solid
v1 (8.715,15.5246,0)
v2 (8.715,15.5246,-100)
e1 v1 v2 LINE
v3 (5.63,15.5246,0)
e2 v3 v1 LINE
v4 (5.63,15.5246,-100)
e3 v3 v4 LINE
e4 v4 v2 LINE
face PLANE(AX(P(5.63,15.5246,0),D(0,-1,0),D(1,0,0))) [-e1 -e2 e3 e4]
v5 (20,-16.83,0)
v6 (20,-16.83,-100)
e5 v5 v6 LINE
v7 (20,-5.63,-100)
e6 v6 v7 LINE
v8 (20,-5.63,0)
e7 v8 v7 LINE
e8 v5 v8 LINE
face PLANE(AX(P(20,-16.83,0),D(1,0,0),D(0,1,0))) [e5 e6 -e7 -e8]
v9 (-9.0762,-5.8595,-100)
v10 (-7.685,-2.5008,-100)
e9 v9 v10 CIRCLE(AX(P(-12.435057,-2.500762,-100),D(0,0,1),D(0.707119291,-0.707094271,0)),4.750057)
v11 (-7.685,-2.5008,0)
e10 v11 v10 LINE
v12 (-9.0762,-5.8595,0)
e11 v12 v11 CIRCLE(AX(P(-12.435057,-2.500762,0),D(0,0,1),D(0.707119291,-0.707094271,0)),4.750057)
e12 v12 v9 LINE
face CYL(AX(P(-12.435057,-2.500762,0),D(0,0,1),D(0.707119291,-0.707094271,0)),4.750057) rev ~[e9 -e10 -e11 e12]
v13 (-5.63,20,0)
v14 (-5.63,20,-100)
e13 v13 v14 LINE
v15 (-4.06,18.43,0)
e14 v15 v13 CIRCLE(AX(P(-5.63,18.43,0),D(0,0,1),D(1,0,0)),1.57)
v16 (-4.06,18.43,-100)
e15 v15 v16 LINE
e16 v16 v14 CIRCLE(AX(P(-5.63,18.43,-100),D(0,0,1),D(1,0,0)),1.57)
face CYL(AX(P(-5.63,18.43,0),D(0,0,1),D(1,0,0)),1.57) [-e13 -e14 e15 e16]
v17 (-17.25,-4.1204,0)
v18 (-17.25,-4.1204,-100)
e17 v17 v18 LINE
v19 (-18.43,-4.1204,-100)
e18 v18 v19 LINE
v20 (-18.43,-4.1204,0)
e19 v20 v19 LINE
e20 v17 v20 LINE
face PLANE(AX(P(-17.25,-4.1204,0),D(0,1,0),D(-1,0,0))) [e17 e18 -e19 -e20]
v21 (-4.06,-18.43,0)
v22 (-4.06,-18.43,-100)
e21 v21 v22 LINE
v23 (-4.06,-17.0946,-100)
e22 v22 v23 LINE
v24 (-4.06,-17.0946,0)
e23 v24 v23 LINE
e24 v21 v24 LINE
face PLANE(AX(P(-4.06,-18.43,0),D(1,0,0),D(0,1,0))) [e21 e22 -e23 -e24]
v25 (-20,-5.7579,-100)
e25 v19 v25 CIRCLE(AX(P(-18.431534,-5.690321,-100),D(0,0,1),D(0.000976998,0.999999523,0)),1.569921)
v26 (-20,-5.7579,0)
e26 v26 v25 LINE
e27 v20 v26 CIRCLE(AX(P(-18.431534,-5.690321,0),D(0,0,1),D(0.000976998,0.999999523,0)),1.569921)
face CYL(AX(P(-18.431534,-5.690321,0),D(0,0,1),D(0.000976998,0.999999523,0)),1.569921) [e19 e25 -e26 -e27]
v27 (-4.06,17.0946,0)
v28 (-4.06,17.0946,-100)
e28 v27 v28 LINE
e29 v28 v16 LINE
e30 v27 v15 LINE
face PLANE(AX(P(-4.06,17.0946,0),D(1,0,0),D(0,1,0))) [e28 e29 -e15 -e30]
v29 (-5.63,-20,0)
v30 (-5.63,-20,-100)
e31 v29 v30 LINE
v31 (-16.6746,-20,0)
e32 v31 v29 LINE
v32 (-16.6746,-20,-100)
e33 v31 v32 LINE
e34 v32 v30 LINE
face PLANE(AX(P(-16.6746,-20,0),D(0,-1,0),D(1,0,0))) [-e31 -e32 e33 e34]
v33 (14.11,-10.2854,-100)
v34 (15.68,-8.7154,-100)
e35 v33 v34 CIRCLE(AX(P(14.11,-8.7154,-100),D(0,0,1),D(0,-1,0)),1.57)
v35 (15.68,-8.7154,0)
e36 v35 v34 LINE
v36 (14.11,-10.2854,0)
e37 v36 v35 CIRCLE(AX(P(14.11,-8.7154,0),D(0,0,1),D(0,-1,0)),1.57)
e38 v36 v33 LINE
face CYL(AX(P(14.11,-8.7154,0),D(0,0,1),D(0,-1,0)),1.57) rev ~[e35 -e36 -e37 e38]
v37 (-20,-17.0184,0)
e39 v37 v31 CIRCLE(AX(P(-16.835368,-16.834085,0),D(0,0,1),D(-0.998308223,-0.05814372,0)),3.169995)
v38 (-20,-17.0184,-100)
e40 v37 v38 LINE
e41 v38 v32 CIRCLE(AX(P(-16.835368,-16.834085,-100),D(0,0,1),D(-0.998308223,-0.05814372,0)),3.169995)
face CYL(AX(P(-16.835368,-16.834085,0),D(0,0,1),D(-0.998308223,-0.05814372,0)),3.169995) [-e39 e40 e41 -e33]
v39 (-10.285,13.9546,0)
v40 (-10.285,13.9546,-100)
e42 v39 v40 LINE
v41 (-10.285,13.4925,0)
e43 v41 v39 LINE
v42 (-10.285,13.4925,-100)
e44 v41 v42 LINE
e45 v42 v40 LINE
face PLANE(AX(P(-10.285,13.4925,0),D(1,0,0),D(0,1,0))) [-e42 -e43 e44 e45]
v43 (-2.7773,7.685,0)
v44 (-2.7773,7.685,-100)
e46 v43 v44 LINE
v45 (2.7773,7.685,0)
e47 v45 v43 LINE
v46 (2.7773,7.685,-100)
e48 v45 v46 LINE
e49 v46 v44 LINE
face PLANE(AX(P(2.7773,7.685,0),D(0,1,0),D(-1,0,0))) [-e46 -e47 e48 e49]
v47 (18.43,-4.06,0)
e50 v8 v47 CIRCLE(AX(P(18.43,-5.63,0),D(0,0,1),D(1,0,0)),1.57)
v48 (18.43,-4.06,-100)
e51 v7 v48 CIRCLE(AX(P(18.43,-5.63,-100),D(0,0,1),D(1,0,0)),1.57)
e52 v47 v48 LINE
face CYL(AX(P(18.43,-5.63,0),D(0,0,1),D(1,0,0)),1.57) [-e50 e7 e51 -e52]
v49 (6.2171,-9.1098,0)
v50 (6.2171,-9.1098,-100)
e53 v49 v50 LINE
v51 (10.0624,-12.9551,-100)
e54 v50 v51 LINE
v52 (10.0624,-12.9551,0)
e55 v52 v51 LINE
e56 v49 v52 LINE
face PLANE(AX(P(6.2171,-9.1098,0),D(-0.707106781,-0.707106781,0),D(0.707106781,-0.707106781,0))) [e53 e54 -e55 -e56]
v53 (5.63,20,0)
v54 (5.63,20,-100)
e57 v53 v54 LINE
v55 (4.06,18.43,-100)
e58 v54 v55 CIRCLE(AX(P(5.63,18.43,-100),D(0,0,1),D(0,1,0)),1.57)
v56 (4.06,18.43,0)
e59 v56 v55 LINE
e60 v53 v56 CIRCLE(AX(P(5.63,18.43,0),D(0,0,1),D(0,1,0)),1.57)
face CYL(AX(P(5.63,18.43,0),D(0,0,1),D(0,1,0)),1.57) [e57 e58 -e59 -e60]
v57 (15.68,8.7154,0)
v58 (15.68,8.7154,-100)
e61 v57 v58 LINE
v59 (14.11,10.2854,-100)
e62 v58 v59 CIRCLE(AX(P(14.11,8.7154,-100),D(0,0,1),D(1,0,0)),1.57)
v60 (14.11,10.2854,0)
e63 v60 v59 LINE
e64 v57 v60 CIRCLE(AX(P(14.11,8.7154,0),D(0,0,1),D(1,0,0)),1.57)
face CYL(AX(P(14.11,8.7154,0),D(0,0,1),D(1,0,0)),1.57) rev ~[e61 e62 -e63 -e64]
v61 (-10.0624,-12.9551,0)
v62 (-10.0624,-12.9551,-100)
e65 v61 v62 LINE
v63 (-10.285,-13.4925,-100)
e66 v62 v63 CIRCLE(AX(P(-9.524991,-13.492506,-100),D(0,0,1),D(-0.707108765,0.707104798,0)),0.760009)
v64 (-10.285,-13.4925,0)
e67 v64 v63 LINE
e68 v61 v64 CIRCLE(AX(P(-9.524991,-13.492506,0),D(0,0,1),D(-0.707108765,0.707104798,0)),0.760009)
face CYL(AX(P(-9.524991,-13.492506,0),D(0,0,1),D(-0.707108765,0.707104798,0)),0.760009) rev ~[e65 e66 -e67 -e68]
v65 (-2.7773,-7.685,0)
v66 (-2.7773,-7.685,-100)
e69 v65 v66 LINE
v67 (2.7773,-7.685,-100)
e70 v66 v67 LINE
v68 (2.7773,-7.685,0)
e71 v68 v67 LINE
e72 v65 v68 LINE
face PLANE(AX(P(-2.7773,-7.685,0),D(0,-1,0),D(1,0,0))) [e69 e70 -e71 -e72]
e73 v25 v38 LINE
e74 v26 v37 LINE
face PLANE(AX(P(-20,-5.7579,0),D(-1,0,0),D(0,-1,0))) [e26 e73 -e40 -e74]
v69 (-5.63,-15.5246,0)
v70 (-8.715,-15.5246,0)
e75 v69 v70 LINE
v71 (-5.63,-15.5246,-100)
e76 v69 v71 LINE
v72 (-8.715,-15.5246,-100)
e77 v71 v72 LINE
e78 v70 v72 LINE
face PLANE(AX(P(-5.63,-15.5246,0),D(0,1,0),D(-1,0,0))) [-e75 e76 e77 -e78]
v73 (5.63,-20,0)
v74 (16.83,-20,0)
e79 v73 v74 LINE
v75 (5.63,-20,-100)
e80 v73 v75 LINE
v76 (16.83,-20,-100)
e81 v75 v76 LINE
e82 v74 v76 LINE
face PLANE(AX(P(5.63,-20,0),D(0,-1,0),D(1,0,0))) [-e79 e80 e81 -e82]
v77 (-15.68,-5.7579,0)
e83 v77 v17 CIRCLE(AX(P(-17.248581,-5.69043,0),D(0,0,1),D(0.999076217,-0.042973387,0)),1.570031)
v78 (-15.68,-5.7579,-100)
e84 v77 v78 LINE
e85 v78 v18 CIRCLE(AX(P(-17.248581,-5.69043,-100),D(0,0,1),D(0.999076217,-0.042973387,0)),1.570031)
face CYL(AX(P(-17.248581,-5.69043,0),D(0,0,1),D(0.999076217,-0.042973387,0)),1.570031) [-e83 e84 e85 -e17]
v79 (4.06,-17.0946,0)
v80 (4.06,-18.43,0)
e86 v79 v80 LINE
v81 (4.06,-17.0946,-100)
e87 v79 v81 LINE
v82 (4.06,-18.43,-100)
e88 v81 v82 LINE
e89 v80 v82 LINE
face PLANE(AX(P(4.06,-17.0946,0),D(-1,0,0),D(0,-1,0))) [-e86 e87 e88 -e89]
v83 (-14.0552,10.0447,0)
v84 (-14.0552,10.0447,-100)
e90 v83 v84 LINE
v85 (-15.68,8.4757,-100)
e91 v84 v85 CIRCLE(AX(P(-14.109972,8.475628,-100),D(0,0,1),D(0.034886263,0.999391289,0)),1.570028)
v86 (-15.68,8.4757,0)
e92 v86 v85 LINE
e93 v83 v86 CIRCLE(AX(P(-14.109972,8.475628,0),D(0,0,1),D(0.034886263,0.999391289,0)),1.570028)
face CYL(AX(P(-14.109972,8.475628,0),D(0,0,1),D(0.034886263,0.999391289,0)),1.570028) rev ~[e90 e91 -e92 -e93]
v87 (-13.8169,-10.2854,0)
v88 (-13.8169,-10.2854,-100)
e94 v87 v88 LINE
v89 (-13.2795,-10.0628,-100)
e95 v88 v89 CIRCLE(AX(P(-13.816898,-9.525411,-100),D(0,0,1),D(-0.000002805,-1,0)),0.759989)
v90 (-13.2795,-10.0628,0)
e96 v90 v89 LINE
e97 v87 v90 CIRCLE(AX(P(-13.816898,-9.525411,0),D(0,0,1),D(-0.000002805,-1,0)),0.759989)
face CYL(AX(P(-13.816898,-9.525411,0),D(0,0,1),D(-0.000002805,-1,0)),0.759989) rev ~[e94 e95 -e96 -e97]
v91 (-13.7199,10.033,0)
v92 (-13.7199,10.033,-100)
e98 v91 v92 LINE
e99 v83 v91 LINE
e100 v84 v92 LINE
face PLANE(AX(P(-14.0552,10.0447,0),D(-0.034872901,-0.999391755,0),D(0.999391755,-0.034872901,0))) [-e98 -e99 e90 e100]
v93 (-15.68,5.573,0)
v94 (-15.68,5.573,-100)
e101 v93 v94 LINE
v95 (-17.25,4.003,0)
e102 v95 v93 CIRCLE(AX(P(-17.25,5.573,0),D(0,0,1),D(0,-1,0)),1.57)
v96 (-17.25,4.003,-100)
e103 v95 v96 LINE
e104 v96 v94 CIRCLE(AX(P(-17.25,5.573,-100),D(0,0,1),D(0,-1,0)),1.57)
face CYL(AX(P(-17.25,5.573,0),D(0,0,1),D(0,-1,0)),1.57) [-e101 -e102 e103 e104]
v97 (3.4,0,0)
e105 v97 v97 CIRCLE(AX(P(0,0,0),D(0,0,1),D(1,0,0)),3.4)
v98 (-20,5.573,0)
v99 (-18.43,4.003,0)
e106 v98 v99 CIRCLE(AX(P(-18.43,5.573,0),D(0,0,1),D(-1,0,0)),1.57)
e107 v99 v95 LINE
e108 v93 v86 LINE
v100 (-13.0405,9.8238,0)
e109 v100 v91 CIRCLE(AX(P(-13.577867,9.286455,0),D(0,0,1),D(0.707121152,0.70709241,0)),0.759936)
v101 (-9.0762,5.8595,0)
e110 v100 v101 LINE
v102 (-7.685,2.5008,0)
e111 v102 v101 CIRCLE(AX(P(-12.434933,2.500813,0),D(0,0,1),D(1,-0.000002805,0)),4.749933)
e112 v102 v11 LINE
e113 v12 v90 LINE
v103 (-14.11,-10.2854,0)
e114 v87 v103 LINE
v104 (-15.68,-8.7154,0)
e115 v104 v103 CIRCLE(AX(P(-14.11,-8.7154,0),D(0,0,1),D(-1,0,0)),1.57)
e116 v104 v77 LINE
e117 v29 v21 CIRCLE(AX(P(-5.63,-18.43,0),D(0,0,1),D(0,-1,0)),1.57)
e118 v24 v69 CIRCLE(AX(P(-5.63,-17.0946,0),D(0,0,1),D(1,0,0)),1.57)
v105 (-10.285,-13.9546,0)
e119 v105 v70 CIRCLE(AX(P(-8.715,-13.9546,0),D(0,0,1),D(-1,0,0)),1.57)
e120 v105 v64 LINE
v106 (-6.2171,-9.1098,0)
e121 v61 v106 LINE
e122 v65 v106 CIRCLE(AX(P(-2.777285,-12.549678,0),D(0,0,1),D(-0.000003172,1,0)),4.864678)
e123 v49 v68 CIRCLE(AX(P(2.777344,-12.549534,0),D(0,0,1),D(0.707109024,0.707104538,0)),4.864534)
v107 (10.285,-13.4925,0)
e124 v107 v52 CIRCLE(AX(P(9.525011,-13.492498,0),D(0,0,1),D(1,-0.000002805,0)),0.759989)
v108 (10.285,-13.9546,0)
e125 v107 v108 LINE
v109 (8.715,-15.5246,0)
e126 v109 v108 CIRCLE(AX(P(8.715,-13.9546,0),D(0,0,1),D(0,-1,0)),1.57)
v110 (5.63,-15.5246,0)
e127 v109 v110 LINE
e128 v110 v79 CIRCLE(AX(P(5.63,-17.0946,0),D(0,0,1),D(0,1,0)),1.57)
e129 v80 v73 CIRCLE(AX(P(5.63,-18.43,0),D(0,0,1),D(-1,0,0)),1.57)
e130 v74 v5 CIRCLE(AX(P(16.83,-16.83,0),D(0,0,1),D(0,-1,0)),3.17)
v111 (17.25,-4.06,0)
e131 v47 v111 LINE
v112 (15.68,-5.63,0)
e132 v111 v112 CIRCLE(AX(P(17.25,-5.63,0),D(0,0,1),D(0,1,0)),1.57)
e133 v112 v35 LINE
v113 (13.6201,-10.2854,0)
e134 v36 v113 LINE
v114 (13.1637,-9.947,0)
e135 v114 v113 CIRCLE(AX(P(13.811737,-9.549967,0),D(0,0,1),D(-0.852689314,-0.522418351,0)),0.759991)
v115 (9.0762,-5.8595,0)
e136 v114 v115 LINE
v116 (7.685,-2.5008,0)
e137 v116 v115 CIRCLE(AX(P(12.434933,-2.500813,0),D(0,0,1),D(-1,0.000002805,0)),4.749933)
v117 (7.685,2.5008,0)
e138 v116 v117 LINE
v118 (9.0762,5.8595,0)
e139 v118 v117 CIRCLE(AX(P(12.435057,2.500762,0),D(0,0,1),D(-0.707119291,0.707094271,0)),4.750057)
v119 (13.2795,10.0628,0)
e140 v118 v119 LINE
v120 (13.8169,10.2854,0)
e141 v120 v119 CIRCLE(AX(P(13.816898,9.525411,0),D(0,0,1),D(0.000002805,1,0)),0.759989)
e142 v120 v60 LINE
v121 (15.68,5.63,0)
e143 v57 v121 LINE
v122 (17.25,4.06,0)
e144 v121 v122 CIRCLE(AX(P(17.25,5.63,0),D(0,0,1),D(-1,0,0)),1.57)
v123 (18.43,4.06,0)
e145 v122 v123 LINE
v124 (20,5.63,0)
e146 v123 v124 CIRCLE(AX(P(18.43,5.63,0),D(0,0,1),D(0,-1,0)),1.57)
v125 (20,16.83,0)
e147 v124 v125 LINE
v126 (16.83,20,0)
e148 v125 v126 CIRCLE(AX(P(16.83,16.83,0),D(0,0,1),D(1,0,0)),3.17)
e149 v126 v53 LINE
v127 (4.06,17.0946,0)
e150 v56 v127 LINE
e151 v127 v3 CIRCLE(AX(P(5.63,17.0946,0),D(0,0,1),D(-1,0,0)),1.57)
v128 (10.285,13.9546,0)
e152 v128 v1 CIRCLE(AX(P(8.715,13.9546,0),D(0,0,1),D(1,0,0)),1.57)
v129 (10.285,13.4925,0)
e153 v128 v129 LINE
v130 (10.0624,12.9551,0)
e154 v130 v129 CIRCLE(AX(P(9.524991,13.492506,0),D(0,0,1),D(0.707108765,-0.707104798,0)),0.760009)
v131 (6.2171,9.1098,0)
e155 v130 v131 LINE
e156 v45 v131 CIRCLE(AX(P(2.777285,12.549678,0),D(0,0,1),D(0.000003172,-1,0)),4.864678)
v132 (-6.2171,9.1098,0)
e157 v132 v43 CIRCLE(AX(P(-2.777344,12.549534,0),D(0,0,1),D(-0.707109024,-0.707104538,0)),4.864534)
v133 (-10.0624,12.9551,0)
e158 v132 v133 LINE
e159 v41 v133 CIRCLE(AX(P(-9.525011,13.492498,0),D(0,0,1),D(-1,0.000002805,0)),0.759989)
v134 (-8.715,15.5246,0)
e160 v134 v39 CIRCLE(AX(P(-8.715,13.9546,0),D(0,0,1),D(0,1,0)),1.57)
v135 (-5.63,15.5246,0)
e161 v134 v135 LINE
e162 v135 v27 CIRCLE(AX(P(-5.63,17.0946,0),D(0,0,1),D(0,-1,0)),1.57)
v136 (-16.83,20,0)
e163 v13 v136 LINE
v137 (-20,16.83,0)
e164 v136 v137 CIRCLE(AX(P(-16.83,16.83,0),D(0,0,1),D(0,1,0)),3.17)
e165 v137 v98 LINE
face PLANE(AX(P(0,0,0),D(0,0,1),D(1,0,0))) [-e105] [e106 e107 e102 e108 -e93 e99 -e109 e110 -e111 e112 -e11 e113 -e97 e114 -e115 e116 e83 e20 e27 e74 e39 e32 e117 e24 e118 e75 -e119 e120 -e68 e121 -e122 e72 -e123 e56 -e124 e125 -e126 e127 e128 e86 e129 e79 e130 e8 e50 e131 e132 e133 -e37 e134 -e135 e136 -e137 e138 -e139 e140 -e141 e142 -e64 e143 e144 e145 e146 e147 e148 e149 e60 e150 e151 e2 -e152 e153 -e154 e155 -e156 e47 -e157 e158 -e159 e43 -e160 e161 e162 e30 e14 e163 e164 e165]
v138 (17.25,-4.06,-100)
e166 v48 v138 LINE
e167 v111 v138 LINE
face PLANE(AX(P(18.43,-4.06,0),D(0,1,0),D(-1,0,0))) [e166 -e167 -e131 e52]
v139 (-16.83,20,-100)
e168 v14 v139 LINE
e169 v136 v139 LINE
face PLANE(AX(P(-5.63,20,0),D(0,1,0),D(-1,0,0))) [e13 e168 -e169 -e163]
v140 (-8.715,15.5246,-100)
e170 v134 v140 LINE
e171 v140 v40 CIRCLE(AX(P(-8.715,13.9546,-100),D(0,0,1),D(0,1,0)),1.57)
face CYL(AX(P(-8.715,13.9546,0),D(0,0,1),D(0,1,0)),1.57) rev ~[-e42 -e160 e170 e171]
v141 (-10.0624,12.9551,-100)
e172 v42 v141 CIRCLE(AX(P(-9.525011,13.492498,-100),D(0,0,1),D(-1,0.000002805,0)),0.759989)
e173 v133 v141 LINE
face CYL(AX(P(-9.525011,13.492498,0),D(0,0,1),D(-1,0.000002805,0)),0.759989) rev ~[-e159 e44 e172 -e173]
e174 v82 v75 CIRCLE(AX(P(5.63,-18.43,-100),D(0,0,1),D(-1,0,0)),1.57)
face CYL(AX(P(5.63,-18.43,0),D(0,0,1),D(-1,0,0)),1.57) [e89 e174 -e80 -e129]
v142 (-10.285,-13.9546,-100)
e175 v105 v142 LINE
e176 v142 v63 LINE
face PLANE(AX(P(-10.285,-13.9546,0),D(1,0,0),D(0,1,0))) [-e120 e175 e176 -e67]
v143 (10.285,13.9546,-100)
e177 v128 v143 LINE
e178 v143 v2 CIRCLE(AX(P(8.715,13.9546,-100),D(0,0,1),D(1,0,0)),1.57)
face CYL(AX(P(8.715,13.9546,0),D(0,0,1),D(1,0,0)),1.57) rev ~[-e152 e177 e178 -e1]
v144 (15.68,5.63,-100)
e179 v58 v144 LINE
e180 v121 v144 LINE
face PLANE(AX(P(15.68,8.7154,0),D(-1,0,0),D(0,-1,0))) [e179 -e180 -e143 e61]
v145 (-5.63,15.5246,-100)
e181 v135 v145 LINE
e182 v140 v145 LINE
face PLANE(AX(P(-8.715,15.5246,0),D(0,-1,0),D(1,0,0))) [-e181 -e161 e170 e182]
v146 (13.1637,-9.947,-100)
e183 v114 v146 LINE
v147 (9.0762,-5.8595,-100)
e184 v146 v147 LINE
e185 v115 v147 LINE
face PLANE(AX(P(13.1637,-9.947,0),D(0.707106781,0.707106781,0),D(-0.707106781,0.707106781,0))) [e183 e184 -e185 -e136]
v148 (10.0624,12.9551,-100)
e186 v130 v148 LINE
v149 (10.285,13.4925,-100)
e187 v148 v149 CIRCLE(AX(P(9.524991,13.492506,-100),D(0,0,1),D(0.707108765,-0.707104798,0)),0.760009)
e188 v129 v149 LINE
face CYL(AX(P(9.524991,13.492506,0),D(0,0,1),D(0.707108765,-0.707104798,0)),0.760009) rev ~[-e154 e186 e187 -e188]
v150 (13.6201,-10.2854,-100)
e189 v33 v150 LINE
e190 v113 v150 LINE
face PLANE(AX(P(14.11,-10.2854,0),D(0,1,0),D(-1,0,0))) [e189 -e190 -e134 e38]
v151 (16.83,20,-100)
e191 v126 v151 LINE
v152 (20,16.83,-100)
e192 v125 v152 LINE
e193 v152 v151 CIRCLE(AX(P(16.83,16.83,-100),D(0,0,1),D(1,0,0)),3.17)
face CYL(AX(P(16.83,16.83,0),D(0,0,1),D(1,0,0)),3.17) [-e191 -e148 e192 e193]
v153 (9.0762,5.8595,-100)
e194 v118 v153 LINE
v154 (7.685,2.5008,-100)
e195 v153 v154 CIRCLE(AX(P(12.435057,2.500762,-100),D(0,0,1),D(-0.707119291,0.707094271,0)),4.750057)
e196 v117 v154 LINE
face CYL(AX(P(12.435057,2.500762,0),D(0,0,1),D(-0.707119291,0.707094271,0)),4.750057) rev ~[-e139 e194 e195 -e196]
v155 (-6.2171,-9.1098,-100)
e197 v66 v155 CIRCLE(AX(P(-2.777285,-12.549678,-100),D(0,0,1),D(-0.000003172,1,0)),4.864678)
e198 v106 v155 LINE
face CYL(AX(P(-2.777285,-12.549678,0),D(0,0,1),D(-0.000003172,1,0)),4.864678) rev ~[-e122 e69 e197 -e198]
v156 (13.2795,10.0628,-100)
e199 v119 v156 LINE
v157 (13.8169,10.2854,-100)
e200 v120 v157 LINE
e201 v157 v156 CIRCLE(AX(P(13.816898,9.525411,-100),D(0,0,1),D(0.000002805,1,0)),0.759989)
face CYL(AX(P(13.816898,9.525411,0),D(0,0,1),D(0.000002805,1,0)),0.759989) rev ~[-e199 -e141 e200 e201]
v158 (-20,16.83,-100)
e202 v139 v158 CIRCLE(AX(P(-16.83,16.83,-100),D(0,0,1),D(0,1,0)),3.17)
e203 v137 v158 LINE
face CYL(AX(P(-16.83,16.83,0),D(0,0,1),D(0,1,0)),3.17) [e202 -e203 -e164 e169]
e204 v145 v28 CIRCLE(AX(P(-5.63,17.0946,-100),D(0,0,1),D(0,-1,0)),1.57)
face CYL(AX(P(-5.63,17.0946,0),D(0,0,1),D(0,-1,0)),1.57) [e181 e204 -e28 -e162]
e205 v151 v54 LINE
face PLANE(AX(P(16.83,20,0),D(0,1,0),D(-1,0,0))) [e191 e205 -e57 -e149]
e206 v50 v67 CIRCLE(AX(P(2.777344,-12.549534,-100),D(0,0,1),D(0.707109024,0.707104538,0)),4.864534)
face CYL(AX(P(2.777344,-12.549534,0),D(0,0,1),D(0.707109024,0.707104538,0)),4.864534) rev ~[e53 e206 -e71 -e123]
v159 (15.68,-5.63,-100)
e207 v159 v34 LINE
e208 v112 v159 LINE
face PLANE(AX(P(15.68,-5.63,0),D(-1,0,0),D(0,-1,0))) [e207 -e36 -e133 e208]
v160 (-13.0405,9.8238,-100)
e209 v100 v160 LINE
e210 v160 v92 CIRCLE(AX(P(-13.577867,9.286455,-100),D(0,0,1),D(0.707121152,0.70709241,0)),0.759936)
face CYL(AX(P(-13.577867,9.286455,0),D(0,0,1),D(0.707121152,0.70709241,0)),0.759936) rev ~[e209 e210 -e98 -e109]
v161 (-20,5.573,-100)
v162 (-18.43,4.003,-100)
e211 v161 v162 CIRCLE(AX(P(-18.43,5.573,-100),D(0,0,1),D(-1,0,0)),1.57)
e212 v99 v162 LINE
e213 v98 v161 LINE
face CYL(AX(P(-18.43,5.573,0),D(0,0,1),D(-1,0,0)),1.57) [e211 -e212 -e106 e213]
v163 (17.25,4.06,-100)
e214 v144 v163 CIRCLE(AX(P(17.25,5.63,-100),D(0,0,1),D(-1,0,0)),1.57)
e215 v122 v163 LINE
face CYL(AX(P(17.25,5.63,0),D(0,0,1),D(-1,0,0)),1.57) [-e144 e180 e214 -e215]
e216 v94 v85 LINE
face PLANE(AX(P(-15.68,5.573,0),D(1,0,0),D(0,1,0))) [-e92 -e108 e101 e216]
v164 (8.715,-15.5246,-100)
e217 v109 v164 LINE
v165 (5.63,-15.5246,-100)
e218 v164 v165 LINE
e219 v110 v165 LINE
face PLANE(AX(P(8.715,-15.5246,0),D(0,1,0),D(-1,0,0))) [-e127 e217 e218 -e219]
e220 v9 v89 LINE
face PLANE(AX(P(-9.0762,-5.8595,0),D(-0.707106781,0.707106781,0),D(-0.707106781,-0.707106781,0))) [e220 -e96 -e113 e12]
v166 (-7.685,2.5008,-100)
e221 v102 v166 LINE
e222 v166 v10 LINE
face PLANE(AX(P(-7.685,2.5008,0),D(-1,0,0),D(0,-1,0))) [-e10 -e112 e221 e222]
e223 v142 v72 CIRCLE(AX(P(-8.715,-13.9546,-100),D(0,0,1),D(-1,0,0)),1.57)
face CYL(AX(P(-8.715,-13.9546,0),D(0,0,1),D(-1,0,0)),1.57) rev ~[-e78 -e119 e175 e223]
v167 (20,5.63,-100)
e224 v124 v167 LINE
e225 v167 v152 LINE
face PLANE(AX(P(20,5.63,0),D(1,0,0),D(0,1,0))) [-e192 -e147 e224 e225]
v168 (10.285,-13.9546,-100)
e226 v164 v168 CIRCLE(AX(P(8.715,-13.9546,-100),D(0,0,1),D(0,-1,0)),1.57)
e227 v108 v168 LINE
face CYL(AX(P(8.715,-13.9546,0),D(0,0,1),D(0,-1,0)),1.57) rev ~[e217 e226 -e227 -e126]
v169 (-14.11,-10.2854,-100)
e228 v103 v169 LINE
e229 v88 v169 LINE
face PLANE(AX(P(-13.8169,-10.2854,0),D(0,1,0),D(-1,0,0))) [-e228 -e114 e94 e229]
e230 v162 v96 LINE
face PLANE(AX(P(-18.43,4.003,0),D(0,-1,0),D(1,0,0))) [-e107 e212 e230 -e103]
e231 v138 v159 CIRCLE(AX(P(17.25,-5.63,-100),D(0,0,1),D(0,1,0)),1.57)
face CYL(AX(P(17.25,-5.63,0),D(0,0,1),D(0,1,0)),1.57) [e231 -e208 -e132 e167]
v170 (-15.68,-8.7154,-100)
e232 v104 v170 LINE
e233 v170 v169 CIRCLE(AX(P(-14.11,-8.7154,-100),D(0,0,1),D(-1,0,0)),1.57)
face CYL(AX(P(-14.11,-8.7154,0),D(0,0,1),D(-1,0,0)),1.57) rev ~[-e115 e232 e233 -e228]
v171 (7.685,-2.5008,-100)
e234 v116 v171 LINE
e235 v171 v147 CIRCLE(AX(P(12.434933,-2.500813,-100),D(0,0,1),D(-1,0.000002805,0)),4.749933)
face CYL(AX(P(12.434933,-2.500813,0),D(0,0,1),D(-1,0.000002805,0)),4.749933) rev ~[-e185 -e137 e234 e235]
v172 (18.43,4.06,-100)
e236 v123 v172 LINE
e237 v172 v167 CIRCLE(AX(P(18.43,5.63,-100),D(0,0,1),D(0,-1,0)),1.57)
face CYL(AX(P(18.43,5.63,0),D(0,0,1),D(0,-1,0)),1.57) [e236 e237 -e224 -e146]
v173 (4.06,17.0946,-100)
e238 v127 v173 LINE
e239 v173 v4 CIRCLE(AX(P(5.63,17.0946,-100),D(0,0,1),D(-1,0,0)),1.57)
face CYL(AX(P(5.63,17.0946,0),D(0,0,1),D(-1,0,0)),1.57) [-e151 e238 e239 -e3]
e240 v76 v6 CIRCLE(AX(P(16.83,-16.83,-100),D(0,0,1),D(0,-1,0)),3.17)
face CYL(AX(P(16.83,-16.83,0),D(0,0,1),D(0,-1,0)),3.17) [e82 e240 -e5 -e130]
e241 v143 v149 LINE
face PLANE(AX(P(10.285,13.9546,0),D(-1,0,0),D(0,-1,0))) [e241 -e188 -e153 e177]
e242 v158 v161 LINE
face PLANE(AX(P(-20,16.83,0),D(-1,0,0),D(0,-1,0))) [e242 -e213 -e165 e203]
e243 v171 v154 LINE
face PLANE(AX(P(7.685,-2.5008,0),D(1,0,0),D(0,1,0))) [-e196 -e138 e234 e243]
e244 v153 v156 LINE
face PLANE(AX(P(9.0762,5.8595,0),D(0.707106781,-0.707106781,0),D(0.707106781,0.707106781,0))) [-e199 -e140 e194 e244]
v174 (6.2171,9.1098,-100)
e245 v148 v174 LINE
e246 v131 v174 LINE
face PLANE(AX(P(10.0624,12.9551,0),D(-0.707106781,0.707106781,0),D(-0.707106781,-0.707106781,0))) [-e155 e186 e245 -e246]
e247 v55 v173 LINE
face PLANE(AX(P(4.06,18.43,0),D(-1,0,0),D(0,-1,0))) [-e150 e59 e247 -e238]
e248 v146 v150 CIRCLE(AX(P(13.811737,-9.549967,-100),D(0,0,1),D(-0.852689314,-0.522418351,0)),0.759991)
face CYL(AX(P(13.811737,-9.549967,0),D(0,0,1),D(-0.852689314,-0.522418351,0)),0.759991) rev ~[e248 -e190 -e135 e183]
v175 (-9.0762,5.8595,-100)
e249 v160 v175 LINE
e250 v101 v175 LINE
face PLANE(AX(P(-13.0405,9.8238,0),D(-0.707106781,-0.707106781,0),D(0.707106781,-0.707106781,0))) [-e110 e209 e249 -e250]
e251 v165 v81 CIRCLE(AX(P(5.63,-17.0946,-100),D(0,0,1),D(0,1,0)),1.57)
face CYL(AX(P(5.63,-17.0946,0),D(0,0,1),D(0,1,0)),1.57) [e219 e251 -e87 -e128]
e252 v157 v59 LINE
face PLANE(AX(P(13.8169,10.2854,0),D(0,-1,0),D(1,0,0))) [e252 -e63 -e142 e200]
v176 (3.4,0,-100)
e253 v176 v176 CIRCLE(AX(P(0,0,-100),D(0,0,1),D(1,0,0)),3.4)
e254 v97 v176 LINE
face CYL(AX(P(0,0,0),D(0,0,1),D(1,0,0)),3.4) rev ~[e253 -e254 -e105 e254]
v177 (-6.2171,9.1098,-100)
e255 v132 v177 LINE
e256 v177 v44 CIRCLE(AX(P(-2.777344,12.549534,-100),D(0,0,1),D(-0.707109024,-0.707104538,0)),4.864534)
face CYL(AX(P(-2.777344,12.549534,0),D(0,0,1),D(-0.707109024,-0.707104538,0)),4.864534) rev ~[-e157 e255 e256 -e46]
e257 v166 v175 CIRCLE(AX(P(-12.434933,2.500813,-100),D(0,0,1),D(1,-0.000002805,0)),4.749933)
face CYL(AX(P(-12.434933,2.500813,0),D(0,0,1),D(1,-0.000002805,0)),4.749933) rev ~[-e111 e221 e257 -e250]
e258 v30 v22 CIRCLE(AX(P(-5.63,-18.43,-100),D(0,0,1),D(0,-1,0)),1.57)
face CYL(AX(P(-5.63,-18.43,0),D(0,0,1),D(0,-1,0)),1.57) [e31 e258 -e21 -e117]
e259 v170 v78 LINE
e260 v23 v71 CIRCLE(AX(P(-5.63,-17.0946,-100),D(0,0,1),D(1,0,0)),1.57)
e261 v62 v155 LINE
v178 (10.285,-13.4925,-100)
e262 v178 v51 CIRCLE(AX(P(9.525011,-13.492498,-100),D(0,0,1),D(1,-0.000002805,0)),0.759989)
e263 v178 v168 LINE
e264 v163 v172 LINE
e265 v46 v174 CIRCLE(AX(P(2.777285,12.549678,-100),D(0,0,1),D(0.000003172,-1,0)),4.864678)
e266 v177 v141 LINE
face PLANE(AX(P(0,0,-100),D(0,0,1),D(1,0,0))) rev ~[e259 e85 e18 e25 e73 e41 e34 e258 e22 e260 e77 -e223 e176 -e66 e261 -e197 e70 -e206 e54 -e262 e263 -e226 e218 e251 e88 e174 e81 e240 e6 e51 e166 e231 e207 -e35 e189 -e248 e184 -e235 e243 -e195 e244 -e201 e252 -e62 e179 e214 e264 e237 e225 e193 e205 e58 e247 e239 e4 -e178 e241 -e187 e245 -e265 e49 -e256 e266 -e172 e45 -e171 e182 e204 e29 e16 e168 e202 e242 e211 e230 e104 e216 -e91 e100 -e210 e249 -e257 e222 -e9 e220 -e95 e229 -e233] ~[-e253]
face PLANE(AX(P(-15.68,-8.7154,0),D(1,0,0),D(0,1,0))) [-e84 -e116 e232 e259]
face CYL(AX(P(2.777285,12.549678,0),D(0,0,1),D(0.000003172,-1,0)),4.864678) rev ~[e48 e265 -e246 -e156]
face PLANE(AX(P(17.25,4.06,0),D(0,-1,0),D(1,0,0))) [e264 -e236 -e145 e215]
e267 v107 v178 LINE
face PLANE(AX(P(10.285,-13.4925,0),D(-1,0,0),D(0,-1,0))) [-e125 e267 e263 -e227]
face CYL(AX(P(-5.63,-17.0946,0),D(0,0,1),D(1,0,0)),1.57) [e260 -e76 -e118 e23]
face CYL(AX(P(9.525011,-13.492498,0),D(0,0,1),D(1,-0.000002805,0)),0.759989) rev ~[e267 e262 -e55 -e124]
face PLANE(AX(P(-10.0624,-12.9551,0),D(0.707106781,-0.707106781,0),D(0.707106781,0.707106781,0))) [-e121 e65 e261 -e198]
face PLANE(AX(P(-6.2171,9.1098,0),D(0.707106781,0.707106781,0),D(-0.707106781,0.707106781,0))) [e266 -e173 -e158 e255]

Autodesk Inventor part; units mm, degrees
ref_plane "YZ Plane" through (0, 0, 0) normal (1, 0, 0) x (0, 1, 0)
ref_plane "XZ Plane" through (0, 0, 0) normal (0, 1, 0) x (-1, 0, 0)
ref_plane "XY Plane" through (0, 0, 0) normal (0, 0, 1) x (1, 0, 0)
sketch "Sketch1" plane through (0, 0, 0) normal (0, 0, 1) x (1, 0, 0)
  circle A0 centre (0, 0) radius 3.4
  arc A1 (-4.06, -17.0946) -> (-5.63, -15.5246) centre (-5.63, -17.0946) ccw
  line L0 (-5.63, -15.5246) -> (-8.715, -15.5246)
  arc A2 (-10.285, -13.9546) -> (-8.715, -15.5246) centre (-8.715, -13.9546) ccw
  line L1 (-10.285, -13.9546) -> (-10.285, -13.4925)
  arc A3 (-10.0624, -12.9551) -> (-10.285, -13.4925) centre (-9.525, -13.4925) ccw
  line L2 (-10.0624, -12.9551) -> (-6.2171, -9.1098)
  arc A4 (-2.7773, -7.685) -> (-6.2171, -9.1098) centre (-2.7773, -12.5496) ccw
  line L3 (-2.7773, -7.685) -> (2.7773, -7.685)
  arc A5 (6.2171, -9.1098) -> (2.7773, -7.685) centre (2.7773, -12.5496) ccw
  line L4 (6.2171, -9.1098) -> (10.0624, -12.9551)
  arc A6 (10.285, -13.4925) -> (10.0624, -12.9551) centre (9.525, -13.4925) ccw
  line L5 (10.285, -13.4925) -> (10.285, -13.9546)
  arc A7 (8.715, -15.5246) -> (10.285, -13.9546) centre (8.715, -13.9546) ccw
  line L6 (8.715, -15.5246) -> (5.63, -15.5246)
  arc A8 (5.63, -15.5246) -> (4.06, -17.0946) centre (5.63, -17.0946) ccw
  line L7 (4.06, -17.0946) -> (4.06, -18.43)
  arc A9 (4.06, -18.43) -> (5.63, -20) centre (5.63, -18.43) ccw
  line L8 (5.63, -20) -> (16.83, -20)
  arc A10 (16.83, -20) -> (20, -16.83) centre (16.83, -16.83) ccw
  line L9 (20, -16.83) -> (20, -5.63)
  arc A11 (20, -5.63) -> (18.43, -4.06) centre (18.43, -5.63) ccw
  line L10 (18.43, -4.06) -> (17.25, -4.06)
  arc A12 (17.25, -4.06) -> (15.68, -5.63) centre (17.25, -5.63) ccw
  line L11 (15.68, -5.63) -> (15.68, -8.7154)
  arc A13 (14.11, -10.2854) -> (15.68, -8.7154) centre (14.11, -8.7154) ccw
  line L12 (14.11, -10.2854) -> (13.6201, -10.2854)
  arc A14 (13.1637, -9.947) -> (13.6201, -10.2854) centre (13.8117, -9.55) ccw
  line L13 (13.1637, -9.947) -> (9.0762, -5.8595)
  arc A15 (7.685, -2.5008) -> (9.0762, -5.8595) centre (12.435, -2.5008) ccw
  line L14 (7.685, -2.5008) -> (7.685, 2.5008)
  arc A16 (9.0762, 5.8595) -> (7.685, 2.5008) centre (12.435, 2.5008) ccw
  line L15 (9.0762, 5.8595) -> (13.2795, 10.0628)
  arc A17 (13.8169, 10.2854) -> (13.2795, 10.0628) centre (13.8169, 9.5254) ccw
  line L16 (13.8169, 10.2854) -> (14.11, 10.2854)
  arc A18 (15.68, 8.7154) -> (14.11, 10.2854) centre (14.11, 8.7154) ccw
  line L17 (15.68, 8.7154) -> (15.68, 5.63)
  arc A19 (15.68, 5.63) -> (17.25, 4.06) centre (17.25, 5.63) ccw
  line L18 (17.25, 4.06) -> (18.43, 4.06)
  arc A20 (18.43, 4.06) -> (20, 5.63) centre (18.43, 5.63) ccw
  line L19 (20, 5.63) -> (20, 16.83)
  arc A21 (20, 16.83) -> (16.83, 20) centre (16.83, 16.83) ccw
  line L20 (16.83, 20) -> (5.63, 20)
  arc A22 (5.63, 20) -> (4.06, 18.43) centre (5.63, 18.43) ccw
  line L21 (4.06, 18.43) -> (4.06, 17.0946)
  arc A23 (4.06, 17.0946) -> (5.63, 15.5246) centre (5.63, 17.0946) ccw
  line L22 (5.63, 15.5246) -> (8.715, 15.5246)
  arc A24 (10.285, 13.9546) -> (8.715, 15.5246) centre (8.715, 13.9546) ccw
  line L23 (10.285, 13.9546) -> (10.285, 13.4925)
  arc A25 (10.0624, 12.9551) -> (10.285, 13.4925) centre (9.525, 13.4925) ccw
  line L24 (10.0624, 12.9551) -> (6.2171, 9.1098)
  arc A26 (2.7773, 7.685) -> (6.2171, 9.1098) centre (2.7773, 12.5496) ccw
  line L25 (2.7773, 7.685) -> (-2.7773, 7.685)
  arc A27 (-6.2171, 9.1098) -> (-2.7773, 7.685) centre (-2.7773, 12.5496) ccw
  line L26 (-6.2171, 9.1098) -> (-10.0624, 12.9551)
  arc A28 (-10.285, 13.4925) -> (-10.0624, 12.9551) centre (-9.525, 13.4925) ccw
  line L27 (-10.285, 13.4925) -> (-10.285, 13.9546)
  arc A29 (-8.715, 15.5246) -> (-10.285, 13.9546) centre (-8.715, 13.9546) ccw
  line L28 (-8.715, 15.5246) -> (-5.63, 15.5246)
  arc A30 (-5.63, 15.5246) -> (-4.06, 17.0946) centre (-5.63, 17.0946) ccw
  line L29 (-4.06, 17.0946) -> (-4.06, 18.43)
  arc A31 (-4.06, 18.43) -> (-5.63, 20) centre (-5.63, 18.43) ccw
  line L30 (-5.63, 20) -> (-16.83, 20)
  arc A32 (-16.83, 20) -> (-20, 16.83) centre (-16.83, 16.83) ccw
  line L31 (-20, 16.83) -> (-20, 5.573)
  arc A33 (-20, 5.573) -> (-18.43, 4.003) centre (-18.43, 5.573) ccw
  line L32 (-18.43, 4.003) -> (-17.25, 4.003)
  arc A34 (-17.25, 4.003) -> (-15.68, 5.573) centre (-17.25, 5.573) ccw
  line L33 (-15.68, 5.573) -> (-15.68, 8.4757)
  arc A35 (-14.0552, 10.0447) -> (-15.68, 8.4757) centre (-14.11, 8.4757) ccw
  line L34 (-14.0552, 10.0447) -> (-13.7199, 10.033)
  arc A36 (-13.0405, 9.8238) -> (-13.7199, 10.033) centre (-13.5779, 9.2864) ccw
  line L35 (-13.0405, 9.8238) -> (-9.0762, 5.8595)
  arc A37 (-7.685, 2.5008) -> (-9.0762, 5.8595) centre (-12.435, 2.5008) ccw
  line L36 (-7.685, 2.5008) -> (-7.685, -2.5008)
  arc A38 (-9.0762, -5.8595) -> (-7.685, -2.5008) centre (-12.435, -2.5008) ccw
  line L37 (-9.0762, -5.8595) -> (-13.2795, -10.0628)
  arc A39 (-13.8169, -10.2854) -> (-13.2795, -10.0628) centre (-13.8169, -9.5254) ccw
  line L38 (-13.8169, -10.2854) -> (-14.11, -10.2854)
  arc A40 (-15.68, -8.7154) -> (-14.11, -10.2854) centre (-14.11, -8.7154) ccw
  line L39 (-15.68, -8.7154) -> (-15.68, -5.7579)
  arc A41 (-15.68, -5.7579) -> (-17.25, -4.1204) centre (-17.2485, -5.6904) ccw
  line L40 (-17.25, -4.1204) -> (-18.43, -4.1204)
  arc A42 (-18.43, -4.1204) -> (-20, -5.7579) centre (-18.4315, -5.6904) ccw
  line L41 (-20, -5.7579) -> (-20, -17.0184)
  arc A43 (-20, -17.0184) -> (-16.6746, -20) centre (-16.8354, -16.8341) ccw
  line L42 (-16.6746, -20) -> (-5.63, -20)
  arc A44 (-5.63, -20) -> (-4.06, -18.43) centre (-5.63, -18.43) ccw
  line L43 (-4.06, -18.43) -> (-4.06, -17.0946)
extrude "Extrusion1" add sketch "Sketch1" against normal blind 100
properties part number "40-4040-BLACK-FB"
